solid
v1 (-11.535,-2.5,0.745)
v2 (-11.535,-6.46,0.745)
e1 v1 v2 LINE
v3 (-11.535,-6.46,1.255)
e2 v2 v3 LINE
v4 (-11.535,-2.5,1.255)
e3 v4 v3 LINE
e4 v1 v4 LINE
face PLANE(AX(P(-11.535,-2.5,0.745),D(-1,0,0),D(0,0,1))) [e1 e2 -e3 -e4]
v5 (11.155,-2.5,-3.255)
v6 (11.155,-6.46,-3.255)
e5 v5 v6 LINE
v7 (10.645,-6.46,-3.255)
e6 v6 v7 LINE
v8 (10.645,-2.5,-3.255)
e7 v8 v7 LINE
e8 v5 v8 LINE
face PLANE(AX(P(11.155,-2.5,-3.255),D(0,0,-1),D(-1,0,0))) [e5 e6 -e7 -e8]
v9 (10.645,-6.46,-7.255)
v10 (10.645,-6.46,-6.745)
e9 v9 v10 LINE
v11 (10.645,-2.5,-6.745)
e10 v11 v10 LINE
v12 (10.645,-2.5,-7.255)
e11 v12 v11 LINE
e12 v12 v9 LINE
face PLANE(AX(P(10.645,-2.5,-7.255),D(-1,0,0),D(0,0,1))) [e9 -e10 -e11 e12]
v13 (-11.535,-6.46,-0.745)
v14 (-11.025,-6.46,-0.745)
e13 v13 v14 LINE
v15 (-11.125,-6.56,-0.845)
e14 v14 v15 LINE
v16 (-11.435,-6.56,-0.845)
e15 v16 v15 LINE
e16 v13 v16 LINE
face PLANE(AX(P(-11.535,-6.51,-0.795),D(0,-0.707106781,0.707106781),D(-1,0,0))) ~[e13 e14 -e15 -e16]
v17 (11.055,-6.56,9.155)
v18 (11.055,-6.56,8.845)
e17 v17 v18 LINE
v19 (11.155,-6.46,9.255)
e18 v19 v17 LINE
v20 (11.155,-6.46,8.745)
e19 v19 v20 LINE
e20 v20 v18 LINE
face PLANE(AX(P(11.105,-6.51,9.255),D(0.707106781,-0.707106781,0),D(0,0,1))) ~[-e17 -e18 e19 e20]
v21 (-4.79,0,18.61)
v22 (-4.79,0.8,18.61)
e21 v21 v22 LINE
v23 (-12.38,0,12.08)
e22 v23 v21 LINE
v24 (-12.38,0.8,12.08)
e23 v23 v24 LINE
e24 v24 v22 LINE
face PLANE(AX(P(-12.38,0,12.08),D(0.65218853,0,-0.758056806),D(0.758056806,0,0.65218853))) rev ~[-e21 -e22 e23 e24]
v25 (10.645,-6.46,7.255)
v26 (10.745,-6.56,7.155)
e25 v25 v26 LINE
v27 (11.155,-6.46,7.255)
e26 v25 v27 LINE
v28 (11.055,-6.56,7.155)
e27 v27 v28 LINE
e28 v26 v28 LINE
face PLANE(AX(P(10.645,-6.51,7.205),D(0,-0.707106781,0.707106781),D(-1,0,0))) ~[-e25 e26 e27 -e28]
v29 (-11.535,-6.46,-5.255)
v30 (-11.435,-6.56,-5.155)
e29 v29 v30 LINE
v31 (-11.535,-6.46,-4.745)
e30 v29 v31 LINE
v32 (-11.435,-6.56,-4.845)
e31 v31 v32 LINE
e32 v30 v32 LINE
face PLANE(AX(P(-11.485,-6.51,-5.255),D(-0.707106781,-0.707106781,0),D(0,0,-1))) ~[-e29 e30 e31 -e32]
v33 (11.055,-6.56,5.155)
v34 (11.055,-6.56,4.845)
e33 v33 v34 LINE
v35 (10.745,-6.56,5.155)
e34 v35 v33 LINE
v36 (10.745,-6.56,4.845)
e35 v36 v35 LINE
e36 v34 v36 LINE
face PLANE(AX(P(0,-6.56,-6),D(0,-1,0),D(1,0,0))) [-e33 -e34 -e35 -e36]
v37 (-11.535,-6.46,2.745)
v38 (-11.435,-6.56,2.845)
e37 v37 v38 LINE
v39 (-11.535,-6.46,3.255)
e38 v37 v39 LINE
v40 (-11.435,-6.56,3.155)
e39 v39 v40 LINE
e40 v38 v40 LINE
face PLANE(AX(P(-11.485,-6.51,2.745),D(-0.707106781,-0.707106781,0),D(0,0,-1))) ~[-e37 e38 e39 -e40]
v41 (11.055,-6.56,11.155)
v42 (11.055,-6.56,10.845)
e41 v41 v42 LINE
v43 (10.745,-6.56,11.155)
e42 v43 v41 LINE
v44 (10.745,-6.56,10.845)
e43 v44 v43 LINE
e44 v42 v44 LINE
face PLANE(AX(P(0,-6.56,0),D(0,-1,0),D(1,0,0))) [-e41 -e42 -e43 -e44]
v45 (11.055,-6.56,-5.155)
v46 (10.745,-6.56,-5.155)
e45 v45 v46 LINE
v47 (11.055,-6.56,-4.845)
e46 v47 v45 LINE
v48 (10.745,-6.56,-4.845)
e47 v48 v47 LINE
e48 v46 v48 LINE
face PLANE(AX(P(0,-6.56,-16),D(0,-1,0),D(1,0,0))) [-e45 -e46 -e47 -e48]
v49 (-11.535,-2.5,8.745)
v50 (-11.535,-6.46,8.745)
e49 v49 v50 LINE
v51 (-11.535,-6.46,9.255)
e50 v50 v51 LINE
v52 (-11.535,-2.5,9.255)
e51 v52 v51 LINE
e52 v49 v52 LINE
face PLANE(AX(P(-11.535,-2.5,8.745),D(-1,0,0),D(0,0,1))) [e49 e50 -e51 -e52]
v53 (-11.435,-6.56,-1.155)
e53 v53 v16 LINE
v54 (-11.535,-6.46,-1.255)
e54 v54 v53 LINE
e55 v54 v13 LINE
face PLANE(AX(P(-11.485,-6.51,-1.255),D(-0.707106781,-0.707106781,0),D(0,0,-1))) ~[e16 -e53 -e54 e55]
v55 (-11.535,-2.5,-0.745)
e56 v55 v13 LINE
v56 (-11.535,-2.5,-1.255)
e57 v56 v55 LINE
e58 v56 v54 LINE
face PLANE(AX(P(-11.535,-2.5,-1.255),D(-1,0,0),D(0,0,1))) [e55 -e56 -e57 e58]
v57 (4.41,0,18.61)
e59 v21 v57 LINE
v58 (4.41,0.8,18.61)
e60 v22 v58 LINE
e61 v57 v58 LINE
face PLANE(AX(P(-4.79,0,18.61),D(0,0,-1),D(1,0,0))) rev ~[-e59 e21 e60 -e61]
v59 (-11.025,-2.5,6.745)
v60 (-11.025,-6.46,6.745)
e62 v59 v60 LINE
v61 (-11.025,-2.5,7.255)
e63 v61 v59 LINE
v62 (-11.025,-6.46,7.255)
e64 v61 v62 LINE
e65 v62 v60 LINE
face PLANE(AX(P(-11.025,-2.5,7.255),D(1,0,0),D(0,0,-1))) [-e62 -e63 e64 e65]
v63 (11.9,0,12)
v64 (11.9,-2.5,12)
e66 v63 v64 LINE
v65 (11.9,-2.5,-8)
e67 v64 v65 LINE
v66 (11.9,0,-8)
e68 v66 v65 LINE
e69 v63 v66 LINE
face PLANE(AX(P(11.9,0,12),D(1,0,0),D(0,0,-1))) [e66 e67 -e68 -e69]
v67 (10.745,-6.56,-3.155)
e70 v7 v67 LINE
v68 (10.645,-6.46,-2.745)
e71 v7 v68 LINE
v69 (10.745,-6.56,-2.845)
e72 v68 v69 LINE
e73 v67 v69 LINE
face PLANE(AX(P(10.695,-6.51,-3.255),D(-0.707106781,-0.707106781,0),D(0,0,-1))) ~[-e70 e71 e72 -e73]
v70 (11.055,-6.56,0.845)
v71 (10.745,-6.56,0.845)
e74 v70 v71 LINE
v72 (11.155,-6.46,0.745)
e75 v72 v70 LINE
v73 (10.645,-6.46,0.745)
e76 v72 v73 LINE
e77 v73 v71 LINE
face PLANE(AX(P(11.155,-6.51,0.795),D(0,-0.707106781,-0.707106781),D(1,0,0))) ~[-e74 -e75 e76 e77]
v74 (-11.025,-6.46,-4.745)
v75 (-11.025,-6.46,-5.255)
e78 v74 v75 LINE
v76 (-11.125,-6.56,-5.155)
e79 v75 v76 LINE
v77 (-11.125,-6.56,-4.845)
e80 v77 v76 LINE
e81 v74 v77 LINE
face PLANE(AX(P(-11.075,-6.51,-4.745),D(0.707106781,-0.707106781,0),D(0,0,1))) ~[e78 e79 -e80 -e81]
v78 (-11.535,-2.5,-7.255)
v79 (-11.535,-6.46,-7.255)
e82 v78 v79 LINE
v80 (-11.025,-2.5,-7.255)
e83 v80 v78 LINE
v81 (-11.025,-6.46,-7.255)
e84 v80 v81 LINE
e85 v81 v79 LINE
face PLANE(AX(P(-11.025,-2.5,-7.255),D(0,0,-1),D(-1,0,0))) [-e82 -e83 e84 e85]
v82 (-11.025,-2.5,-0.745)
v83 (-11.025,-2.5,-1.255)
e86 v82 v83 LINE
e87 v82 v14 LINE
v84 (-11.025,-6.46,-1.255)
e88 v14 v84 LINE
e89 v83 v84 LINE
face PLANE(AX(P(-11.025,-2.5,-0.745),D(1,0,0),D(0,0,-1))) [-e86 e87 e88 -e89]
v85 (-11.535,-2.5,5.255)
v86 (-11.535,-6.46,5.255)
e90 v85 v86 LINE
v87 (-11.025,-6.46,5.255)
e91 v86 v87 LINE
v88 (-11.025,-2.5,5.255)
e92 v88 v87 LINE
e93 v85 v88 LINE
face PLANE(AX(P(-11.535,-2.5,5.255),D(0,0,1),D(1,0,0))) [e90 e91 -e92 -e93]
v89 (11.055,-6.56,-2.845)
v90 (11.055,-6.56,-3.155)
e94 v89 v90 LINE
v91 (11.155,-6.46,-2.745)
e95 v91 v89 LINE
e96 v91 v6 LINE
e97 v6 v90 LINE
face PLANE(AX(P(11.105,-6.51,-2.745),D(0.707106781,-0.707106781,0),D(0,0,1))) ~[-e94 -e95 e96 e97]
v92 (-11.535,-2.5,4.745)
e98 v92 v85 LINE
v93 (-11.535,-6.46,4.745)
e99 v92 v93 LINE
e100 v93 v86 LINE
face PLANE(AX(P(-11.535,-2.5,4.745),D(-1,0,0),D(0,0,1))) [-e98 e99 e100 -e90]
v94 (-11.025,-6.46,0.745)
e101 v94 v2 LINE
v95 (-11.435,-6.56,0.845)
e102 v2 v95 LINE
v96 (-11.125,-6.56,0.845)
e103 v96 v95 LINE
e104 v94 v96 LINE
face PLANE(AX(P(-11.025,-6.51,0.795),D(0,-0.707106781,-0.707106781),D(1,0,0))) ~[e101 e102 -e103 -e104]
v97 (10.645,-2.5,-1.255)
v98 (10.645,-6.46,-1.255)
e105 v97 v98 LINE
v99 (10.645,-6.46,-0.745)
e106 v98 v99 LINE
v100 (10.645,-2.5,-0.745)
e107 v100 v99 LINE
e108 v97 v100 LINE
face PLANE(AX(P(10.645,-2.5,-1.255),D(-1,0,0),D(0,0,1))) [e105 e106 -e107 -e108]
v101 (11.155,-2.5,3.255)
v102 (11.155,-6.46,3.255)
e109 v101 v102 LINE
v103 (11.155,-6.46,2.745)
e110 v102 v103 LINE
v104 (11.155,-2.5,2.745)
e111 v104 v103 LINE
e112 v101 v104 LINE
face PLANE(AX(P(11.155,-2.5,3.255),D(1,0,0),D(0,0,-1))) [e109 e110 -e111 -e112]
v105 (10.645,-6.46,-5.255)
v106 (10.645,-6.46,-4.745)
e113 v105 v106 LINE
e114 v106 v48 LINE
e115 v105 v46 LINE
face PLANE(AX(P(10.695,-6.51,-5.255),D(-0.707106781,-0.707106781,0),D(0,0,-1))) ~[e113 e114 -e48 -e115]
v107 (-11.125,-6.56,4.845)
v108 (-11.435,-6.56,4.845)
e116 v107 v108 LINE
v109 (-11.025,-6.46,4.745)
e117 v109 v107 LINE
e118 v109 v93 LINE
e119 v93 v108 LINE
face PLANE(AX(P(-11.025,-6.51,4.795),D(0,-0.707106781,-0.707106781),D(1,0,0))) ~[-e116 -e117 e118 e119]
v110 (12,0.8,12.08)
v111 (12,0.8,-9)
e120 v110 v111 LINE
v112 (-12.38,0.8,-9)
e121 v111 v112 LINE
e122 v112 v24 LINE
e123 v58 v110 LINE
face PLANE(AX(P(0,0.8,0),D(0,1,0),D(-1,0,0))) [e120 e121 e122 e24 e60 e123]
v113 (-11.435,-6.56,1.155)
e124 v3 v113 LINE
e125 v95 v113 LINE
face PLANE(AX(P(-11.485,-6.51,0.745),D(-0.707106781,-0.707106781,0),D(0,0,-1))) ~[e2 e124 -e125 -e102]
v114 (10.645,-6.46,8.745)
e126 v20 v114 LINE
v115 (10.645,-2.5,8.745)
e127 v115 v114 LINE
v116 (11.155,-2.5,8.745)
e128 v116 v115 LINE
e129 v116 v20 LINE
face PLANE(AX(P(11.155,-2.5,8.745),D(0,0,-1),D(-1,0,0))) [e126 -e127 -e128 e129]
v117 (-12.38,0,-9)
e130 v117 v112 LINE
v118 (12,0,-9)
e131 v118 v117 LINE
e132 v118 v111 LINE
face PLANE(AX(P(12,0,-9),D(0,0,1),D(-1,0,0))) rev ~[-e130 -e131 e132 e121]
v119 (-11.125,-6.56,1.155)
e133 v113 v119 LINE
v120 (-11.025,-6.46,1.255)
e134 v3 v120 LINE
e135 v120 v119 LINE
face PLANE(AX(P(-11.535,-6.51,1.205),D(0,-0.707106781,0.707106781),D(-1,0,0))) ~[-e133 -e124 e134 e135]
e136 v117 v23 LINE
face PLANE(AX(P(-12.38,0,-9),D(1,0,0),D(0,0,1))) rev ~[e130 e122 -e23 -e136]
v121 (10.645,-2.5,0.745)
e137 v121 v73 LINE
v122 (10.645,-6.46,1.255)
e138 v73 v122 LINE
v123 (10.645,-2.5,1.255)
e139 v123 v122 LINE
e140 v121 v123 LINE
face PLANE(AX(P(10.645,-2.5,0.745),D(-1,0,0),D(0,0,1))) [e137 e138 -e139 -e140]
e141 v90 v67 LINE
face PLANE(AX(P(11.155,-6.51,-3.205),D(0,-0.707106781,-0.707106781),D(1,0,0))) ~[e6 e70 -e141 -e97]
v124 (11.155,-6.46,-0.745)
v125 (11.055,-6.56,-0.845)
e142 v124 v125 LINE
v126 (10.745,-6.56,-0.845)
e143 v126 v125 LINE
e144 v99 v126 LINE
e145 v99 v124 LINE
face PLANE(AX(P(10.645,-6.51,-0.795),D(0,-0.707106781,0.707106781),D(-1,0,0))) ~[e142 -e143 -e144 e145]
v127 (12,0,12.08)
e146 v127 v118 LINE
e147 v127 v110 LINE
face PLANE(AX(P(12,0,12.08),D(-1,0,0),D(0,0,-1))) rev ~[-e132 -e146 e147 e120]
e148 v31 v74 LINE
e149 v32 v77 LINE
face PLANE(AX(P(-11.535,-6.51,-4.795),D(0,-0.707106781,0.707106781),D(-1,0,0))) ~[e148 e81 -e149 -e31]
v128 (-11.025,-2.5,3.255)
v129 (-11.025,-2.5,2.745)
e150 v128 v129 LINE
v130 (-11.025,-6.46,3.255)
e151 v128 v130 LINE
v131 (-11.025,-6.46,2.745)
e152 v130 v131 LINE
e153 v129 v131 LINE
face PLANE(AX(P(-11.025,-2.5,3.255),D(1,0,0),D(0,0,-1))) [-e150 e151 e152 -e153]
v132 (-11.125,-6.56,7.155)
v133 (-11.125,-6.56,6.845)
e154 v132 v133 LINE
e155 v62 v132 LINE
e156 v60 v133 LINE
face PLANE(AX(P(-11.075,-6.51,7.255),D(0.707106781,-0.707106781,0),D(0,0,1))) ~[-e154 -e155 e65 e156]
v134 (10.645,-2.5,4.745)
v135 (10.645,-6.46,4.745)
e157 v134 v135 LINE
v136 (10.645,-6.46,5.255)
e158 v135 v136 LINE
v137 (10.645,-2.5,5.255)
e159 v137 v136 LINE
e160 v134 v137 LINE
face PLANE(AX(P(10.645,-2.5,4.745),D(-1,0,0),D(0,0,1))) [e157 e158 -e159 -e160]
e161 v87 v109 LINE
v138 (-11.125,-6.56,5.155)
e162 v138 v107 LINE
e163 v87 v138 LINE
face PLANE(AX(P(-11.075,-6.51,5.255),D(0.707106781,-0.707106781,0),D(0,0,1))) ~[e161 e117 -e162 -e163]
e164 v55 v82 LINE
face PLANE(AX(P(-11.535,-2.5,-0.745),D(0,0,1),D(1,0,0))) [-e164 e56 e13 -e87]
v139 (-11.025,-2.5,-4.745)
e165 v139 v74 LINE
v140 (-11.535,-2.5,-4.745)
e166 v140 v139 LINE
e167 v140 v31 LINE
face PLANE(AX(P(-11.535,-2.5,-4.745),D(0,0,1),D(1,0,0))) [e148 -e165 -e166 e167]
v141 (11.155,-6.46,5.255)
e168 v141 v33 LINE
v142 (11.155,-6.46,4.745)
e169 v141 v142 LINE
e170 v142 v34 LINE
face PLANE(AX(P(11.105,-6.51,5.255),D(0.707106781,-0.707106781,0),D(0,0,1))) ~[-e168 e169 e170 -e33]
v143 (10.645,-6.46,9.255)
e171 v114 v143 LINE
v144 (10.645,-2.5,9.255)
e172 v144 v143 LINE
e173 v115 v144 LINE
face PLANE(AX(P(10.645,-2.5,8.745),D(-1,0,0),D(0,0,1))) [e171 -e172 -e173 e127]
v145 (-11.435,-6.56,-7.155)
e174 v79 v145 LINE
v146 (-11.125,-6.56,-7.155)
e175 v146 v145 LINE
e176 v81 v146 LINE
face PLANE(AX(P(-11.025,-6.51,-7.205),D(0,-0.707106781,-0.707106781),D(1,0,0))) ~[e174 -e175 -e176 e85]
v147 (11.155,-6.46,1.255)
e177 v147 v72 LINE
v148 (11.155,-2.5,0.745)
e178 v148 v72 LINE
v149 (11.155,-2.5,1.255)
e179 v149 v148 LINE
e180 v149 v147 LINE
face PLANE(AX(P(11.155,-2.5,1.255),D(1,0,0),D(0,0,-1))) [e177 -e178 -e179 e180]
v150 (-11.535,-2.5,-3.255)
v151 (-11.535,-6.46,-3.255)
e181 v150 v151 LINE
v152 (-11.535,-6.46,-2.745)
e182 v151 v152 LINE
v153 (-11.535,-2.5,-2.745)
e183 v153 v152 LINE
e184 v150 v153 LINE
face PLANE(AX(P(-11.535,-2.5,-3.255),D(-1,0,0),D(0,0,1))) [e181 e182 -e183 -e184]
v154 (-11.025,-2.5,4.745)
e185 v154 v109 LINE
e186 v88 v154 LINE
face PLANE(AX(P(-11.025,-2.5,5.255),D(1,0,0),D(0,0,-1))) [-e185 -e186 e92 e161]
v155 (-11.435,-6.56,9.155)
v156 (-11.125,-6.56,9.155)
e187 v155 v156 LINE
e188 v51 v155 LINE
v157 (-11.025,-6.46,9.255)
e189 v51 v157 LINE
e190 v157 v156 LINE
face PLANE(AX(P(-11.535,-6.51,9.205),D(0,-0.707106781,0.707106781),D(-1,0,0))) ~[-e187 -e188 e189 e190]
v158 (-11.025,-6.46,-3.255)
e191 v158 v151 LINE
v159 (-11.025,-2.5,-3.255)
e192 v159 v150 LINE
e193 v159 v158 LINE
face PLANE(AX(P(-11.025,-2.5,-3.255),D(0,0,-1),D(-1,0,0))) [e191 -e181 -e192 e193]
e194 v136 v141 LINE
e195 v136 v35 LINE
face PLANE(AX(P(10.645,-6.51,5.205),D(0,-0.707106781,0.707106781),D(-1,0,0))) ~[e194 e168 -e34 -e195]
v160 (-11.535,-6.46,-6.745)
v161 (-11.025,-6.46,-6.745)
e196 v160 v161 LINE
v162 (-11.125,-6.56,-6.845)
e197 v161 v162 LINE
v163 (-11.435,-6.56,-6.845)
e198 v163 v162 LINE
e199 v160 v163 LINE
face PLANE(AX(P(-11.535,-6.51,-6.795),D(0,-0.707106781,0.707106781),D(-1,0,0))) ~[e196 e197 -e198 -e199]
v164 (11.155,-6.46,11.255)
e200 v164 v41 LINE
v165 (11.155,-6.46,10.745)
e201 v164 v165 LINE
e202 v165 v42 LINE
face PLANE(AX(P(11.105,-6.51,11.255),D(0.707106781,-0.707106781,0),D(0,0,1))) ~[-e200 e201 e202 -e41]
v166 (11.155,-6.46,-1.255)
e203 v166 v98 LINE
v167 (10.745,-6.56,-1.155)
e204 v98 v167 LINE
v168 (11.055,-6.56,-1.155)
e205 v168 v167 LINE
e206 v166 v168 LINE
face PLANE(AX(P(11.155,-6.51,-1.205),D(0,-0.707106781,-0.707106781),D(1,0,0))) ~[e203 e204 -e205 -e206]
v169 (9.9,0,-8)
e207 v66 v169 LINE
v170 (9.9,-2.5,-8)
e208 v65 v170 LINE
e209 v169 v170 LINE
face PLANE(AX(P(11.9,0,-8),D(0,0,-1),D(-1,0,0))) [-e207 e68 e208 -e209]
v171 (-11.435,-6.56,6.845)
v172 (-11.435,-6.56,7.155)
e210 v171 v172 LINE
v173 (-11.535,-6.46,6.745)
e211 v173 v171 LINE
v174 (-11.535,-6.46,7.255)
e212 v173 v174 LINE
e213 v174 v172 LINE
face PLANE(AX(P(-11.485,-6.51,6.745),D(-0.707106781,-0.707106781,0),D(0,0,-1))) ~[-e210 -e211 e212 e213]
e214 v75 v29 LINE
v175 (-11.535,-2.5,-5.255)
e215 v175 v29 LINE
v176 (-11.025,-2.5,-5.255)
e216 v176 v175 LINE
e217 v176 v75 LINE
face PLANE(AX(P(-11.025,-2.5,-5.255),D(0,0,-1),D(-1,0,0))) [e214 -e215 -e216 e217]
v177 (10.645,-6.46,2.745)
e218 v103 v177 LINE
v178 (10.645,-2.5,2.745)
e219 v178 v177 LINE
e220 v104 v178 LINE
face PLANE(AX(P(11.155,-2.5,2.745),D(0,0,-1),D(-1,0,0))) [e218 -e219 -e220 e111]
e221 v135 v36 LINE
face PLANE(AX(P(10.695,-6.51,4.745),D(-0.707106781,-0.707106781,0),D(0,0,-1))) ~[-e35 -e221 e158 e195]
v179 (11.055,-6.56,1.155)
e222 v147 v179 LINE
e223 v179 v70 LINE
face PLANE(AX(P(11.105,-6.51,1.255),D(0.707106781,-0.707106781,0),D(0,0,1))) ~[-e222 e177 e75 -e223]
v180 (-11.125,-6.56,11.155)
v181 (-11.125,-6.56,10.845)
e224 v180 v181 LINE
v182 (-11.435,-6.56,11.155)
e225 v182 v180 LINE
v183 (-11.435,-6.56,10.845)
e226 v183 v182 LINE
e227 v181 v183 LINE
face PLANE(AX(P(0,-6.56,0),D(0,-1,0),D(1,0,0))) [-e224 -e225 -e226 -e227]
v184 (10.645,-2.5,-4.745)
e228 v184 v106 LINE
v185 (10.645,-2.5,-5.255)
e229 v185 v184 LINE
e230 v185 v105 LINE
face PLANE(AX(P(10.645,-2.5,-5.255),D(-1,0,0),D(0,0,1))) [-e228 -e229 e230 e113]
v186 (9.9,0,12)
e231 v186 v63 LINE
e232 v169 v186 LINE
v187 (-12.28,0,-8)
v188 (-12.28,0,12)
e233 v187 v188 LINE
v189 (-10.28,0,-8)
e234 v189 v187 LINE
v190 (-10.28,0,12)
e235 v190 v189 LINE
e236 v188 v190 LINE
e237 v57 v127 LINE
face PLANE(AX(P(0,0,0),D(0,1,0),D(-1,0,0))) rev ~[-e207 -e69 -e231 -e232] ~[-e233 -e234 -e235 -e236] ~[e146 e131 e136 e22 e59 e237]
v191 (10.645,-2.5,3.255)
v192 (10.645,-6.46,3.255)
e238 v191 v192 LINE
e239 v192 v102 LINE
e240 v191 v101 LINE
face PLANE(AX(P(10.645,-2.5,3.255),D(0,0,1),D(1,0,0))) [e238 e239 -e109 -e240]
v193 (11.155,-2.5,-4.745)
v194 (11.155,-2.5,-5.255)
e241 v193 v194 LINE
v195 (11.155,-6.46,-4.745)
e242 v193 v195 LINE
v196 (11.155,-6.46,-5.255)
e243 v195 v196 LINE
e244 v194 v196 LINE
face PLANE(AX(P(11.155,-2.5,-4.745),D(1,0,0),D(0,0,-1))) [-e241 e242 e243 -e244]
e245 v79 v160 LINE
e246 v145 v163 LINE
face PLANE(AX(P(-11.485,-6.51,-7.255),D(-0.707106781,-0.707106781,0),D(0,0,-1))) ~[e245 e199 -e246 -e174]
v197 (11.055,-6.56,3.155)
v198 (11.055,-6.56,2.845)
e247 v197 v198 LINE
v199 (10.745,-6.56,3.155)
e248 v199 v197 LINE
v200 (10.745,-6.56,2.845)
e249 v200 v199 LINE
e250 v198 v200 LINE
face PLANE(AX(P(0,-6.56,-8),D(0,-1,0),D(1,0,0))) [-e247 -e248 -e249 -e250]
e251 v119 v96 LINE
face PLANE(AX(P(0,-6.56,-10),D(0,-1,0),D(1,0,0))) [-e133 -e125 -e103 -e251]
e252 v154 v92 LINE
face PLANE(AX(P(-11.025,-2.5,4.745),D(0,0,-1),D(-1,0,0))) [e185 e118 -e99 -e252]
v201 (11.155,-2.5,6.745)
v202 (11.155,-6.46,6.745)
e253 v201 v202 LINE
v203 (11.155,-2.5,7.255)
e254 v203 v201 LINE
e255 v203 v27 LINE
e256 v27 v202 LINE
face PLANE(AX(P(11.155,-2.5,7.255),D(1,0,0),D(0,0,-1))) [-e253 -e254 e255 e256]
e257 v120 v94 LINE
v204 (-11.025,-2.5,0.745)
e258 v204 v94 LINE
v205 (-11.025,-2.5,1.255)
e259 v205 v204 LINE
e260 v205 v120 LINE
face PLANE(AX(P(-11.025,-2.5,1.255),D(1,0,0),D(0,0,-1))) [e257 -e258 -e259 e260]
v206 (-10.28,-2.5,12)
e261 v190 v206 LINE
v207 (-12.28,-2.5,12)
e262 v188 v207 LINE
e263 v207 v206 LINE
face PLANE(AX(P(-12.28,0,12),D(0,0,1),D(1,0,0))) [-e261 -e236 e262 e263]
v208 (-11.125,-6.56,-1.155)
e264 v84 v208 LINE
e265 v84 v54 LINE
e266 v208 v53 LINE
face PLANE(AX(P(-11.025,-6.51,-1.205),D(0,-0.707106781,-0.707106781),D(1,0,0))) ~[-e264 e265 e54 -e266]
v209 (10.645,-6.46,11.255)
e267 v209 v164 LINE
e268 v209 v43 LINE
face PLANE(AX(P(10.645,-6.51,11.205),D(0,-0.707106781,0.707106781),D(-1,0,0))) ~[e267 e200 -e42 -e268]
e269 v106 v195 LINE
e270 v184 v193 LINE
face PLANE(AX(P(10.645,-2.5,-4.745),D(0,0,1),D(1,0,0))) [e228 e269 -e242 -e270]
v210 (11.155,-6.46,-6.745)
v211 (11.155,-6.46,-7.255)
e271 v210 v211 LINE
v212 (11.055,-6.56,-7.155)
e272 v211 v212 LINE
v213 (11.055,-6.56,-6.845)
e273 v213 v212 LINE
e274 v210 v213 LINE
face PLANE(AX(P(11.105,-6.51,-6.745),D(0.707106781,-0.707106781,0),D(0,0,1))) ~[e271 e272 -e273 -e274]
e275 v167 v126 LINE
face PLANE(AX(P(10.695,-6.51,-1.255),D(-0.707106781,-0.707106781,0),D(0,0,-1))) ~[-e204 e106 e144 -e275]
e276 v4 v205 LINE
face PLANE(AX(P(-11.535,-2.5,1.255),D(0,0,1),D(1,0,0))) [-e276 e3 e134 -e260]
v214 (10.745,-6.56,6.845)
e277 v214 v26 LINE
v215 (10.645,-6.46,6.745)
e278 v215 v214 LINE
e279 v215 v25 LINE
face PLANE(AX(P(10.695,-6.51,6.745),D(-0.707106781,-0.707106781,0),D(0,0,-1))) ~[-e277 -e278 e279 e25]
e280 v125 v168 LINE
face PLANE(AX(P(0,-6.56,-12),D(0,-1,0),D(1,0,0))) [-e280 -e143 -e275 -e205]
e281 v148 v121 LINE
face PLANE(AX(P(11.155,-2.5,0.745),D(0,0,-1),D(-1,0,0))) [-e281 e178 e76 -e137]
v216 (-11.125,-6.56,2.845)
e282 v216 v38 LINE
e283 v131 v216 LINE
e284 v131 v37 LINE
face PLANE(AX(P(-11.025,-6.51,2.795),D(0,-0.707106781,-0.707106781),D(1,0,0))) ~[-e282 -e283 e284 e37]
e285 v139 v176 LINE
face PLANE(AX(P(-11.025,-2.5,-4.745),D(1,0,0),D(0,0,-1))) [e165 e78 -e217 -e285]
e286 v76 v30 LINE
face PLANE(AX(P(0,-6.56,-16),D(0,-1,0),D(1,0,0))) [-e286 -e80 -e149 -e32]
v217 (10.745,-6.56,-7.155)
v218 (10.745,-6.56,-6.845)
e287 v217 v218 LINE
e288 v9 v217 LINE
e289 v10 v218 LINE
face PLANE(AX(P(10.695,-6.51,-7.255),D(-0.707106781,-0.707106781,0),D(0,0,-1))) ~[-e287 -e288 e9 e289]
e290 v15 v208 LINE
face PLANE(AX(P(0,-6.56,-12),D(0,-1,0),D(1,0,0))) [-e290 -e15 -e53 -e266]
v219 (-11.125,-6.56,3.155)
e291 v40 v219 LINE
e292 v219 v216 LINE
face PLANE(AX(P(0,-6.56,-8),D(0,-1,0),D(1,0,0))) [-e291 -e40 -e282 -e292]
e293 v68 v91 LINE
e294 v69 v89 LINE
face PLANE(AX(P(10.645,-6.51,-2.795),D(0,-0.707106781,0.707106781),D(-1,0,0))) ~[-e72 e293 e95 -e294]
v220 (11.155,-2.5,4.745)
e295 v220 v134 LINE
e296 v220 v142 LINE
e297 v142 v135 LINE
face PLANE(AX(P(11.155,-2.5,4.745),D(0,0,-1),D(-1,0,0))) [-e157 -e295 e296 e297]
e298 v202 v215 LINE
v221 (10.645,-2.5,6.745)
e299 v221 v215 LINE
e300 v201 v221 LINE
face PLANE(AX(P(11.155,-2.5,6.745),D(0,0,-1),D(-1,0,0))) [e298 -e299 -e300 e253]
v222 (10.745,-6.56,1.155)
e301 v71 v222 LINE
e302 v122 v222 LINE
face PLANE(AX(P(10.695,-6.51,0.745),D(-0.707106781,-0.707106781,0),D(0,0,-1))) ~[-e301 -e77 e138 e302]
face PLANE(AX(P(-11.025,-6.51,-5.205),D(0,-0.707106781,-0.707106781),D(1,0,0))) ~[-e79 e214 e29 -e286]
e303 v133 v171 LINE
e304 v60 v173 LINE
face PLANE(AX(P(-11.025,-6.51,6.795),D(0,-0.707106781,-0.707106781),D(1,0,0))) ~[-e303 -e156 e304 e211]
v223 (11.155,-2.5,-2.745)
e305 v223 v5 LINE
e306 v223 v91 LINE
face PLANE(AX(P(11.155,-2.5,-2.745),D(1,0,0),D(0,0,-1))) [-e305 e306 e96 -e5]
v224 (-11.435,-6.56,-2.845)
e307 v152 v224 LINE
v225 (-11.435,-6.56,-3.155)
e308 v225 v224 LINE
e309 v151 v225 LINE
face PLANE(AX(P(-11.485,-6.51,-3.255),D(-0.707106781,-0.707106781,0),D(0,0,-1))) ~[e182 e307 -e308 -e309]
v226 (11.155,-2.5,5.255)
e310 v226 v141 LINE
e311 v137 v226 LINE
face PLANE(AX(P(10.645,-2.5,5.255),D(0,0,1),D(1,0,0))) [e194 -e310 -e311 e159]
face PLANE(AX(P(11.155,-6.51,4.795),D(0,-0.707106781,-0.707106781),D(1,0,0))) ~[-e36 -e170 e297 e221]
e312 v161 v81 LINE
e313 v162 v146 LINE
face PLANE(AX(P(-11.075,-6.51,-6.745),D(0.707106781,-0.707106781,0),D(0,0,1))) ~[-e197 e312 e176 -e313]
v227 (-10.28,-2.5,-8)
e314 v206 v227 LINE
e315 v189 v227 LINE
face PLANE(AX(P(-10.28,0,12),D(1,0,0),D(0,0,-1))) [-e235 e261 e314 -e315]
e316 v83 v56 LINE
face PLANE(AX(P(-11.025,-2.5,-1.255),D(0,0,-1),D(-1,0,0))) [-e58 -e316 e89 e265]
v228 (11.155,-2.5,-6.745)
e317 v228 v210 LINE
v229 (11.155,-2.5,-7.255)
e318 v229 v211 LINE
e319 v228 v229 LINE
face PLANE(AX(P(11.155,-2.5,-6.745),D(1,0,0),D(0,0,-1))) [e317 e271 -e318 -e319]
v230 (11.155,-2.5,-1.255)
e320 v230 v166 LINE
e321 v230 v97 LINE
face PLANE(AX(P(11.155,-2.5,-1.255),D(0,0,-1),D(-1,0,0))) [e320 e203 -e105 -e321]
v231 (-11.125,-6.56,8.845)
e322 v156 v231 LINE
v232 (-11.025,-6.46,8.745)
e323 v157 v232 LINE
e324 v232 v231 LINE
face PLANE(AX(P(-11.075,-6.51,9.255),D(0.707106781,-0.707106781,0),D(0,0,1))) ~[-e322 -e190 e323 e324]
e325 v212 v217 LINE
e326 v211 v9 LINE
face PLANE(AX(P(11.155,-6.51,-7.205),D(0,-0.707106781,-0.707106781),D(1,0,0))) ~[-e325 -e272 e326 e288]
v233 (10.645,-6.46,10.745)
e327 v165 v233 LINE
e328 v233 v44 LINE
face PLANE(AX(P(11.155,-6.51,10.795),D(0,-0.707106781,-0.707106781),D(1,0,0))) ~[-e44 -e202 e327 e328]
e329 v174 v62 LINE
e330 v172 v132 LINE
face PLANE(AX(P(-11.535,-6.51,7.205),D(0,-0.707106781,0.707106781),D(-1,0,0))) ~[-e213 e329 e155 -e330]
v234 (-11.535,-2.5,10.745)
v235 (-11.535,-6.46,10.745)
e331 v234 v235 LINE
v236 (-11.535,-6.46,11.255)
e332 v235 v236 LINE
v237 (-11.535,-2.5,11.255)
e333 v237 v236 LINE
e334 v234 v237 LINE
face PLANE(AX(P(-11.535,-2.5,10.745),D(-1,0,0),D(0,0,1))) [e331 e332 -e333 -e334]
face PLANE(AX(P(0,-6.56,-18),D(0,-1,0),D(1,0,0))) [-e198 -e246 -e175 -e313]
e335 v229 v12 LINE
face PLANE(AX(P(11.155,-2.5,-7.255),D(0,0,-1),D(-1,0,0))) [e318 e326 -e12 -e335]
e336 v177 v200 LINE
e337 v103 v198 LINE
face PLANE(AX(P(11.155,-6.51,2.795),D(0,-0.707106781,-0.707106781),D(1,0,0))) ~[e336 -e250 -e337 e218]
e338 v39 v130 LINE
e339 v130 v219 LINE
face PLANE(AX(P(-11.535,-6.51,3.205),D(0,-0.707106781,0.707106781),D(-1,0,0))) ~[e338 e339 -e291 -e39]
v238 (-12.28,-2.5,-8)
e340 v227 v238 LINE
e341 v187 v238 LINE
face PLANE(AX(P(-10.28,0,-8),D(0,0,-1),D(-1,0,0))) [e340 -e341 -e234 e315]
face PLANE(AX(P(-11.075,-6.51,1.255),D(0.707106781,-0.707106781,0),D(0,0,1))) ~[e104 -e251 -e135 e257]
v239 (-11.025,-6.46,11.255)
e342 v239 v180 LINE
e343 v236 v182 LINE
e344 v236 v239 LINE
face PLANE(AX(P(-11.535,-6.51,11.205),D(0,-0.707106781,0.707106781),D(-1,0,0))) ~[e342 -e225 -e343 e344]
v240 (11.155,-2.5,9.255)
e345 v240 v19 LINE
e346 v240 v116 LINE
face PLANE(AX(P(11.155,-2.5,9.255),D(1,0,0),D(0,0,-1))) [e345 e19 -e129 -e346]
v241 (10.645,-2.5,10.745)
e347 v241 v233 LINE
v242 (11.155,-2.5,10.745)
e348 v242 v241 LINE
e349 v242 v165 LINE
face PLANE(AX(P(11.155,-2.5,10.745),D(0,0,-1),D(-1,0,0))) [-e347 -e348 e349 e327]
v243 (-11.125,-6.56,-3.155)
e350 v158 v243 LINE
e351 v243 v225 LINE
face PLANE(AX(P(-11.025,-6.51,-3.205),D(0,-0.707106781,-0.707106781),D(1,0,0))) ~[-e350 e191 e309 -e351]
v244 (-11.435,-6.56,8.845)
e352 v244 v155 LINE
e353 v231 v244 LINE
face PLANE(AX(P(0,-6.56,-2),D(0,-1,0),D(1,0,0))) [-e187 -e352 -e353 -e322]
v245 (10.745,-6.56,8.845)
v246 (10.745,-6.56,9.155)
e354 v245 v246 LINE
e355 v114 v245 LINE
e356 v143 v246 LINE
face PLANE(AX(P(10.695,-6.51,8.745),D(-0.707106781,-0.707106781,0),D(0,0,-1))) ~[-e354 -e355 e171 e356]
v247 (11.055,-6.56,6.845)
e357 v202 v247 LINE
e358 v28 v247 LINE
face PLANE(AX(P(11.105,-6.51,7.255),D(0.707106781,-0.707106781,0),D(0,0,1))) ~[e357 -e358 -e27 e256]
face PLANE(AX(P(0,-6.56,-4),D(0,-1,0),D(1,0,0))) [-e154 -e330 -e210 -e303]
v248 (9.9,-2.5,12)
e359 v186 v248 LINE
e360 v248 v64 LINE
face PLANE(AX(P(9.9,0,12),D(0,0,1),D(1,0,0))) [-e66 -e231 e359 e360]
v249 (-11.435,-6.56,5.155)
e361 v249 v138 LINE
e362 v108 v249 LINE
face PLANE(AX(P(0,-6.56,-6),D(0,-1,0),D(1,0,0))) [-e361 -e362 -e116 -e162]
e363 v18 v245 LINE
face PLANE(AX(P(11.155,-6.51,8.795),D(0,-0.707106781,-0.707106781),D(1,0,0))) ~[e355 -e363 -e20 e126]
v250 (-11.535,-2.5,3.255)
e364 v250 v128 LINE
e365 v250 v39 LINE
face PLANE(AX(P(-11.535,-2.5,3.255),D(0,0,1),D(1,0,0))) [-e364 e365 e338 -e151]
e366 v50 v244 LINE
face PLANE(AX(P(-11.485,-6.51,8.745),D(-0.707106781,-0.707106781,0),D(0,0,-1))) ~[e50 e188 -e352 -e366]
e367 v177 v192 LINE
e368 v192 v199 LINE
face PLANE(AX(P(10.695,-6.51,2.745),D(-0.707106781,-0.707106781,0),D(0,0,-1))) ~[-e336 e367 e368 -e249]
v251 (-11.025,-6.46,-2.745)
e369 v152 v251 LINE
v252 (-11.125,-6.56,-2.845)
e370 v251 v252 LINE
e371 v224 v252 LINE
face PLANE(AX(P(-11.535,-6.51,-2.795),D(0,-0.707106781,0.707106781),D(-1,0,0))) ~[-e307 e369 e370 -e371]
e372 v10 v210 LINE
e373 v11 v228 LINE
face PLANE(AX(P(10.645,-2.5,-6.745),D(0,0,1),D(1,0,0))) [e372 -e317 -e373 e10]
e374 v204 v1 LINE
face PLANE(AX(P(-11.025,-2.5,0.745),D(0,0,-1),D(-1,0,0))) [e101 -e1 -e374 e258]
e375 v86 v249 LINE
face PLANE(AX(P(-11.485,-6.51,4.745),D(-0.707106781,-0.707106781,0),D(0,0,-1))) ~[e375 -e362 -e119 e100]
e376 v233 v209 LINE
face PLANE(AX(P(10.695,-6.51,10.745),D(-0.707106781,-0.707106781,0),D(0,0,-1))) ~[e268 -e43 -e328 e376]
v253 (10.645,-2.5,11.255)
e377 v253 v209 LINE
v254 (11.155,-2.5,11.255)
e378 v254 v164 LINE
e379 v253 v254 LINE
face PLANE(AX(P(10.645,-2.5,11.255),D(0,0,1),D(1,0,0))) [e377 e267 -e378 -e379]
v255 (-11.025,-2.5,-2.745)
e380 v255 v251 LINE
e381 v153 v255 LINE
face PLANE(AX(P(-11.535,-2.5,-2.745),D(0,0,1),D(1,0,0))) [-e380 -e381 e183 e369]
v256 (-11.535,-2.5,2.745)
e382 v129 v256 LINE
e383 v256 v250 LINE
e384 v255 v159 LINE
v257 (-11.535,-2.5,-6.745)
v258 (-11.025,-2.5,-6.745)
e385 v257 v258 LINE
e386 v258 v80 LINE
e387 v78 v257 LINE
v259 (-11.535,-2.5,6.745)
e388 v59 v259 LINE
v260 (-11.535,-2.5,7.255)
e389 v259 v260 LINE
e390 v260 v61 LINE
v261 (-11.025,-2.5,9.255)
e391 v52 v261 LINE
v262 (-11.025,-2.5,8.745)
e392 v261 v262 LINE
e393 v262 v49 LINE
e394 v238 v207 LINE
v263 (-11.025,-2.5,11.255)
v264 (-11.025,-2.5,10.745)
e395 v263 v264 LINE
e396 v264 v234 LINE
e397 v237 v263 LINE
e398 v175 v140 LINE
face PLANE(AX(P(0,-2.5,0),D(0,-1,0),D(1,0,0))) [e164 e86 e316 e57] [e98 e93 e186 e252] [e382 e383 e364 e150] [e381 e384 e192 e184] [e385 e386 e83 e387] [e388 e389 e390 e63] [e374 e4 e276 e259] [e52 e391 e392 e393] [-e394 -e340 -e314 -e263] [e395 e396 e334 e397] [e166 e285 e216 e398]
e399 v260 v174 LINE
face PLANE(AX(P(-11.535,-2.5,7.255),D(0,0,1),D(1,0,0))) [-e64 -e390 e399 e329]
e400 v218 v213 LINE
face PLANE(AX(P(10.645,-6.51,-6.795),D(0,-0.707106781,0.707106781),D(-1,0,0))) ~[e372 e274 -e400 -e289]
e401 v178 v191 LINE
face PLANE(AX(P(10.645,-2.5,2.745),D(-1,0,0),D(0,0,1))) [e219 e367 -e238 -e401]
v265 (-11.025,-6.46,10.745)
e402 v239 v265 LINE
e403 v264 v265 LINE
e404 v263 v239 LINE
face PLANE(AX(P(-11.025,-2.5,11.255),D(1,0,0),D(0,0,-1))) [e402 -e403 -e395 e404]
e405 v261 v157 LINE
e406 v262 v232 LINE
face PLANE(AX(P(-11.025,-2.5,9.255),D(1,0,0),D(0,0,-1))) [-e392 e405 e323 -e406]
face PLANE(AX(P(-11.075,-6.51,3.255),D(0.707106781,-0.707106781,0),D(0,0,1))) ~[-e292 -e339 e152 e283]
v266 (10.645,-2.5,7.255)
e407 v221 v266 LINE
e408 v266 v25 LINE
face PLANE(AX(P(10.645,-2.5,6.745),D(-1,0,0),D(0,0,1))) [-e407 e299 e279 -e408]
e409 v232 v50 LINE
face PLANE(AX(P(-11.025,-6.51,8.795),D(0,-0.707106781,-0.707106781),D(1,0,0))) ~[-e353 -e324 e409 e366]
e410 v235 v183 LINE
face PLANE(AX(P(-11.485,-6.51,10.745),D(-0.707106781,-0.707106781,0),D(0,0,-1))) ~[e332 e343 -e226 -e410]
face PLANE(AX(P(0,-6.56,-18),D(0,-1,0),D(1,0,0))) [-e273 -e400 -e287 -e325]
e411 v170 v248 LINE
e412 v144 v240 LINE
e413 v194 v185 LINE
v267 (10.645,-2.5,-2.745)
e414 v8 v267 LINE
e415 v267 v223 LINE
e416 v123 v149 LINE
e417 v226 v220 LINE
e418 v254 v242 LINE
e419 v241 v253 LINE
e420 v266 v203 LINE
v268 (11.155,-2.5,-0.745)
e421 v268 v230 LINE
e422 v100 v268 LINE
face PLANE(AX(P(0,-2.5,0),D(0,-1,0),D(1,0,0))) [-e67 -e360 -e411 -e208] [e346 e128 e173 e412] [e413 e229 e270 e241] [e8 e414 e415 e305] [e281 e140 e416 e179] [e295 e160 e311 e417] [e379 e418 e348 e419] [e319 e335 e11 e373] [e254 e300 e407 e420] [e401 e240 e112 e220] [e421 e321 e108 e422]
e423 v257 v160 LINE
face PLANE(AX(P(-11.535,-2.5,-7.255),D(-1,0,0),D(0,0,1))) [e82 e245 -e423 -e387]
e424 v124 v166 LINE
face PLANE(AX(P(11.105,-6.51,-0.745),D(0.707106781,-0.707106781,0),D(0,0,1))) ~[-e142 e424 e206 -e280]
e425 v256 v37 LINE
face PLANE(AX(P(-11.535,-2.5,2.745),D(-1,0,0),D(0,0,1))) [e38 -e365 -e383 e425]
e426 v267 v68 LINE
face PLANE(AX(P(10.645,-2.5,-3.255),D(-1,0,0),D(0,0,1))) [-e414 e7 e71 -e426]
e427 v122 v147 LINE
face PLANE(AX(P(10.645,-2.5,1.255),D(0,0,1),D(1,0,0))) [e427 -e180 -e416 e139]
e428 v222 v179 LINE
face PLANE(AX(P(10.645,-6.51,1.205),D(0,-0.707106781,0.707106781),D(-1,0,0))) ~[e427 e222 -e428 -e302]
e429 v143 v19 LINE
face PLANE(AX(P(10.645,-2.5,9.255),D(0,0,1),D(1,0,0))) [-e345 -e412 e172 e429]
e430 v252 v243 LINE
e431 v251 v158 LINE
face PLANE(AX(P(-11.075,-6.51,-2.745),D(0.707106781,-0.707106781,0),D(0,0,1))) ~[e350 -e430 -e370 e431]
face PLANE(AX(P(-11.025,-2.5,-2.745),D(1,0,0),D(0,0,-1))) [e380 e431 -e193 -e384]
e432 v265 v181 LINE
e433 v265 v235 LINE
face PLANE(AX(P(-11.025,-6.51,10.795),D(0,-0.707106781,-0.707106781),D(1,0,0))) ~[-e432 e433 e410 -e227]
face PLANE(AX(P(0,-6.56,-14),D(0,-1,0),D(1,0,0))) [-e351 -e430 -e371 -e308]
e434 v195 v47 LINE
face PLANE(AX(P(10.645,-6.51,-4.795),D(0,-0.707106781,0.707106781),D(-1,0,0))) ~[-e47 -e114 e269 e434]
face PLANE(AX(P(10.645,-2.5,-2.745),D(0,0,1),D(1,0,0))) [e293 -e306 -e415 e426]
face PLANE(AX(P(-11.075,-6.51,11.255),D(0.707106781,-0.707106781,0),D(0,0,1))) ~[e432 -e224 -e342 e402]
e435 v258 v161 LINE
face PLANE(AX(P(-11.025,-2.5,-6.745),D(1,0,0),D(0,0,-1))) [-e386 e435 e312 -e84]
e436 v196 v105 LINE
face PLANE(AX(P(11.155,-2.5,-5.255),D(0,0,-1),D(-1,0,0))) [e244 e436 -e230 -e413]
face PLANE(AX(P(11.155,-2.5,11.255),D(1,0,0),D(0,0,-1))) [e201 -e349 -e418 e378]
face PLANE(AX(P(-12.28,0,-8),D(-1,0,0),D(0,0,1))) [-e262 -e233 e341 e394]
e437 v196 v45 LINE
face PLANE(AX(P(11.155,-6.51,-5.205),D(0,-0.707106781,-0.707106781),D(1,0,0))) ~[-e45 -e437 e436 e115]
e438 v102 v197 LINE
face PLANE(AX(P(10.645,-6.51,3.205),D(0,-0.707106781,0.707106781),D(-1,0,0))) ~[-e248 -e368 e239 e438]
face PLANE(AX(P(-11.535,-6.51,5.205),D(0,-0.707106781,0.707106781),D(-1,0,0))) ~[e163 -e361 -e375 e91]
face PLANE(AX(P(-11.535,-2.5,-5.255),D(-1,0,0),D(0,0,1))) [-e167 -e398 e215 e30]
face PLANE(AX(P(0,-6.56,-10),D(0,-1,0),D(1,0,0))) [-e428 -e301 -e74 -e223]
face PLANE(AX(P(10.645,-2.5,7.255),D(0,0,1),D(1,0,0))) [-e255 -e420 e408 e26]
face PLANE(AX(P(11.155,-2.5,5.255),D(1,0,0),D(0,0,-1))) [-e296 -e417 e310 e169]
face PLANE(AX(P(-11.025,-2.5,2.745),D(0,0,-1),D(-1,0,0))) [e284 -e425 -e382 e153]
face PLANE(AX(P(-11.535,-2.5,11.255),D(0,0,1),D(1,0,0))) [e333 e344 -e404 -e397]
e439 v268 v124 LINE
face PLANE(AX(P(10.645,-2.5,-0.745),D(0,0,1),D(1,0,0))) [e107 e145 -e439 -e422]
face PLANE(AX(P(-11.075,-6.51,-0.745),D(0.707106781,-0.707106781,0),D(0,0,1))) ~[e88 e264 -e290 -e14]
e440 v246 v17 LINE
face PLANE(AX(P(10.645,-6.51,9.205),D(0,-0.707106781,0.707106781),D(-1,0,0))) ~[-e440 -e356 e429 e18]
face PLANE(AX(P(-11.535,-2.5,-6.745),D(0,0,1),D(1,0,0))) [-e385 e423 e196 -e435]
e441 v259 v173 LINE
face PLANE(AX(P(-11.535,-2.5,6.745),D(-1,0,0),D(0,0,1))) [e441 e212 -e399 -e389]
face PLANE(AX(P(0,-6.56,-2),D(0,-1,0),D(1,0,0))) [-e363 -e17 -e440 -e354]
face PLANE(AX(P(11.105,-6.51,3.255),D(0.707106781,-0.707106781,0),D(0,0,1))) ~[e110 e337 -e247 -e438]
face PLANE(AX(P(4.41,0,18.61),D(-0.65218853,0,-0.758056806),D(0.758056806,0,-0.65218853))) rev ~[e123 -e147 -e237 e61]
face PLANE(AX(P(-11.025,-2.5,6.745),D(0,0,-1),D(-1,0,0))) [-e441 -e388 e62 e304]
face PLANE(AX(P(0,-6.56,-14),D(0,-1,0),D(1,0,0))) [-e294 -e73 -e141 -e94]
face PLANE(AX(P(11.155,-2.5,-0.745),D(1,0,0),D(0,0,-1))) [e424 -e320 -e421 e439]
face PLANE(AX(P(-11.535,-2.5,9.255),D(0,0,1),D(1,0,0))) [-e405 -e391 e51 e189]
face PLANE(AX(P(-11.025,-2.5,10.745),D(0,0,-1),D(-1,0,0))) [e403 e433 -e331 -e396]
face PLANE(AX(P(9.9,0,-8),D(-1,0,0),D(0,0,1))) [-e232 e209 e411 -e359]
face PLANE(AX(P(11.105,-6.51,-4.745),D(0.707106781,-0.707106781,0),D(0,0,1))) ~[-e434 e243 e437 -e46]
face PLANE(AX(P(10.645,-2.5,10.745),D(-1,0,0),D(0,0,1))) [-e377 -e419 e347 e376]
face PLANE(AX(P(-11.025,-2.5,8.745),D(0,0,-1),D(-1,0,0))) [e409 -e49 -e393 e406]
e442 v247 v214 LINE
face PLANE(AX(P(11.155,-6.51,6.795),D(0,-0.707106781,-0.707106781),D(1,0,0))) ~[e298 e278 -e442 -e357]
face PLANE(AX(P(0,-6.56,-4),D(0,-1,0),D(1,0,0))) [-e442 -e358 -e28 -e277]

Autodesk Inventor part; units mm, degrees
ref_plane "YZ Plane" through (0, 0, 0) normal (1, 0, 0) x (0, 1, 0)
ref_plane "XZ Plane" through (0, 0, 0) normal (0, 1, 0) x (-1, 0, 0)
ref_plane "XY Plane" through (0, 0, 0) normal (0, 0, 1) x (1, 0, 0)
sketch "Esquisse1" plane through (0, 0, 0) normal (0, 1, 0) x (-1, 0, 0)
  line L0 (-12, -9) -> (12.38, -9)
  line L1 (12.38, -9) -> (12.38, 12.08)
  line L2 (12.38, 12.08) -> (4.79, 18.61)
  line L3 (4.79, 18.61) -> (-4.41, 18.61)
  line L4 (-4.41, 18.61) -> (-12, 12.08)
  line L5 (-12, 12.08) -> (-12, -9)
  point P0 (0, 0)
  dimension "d0" = 24.38
  dimension "d1" = 27.61
  dimension "d2" = 6.53
  dimension "d3" = 6.53
  dimension "d4" = 7.59
  dimension "d5" = 7.59
  dimension "d6" = 24.38
  dimension "d7" = 27.61
  dimension "d8" = 9
  dimension "d9" = 12
extrude "Extrusion1" add sketch "Esquisse1" along normal blind 0.8
sketch "Esquisse2" plane through (0, 0, 0) normal (0, -1, 0) x (1, 0, 0)
  line L0 (12, -9) -> (-12.38, -9) projected
  line L1 (-12.28, 12) -> (-10.28, 12)
  line L2 (-10.28, 12) -> (-10.28, -8)
  line L3 (-10.28, -8) -> (-12.28, -8)
  line L4 (-12.28, -8) -> (-12.28, 12)
  line L5 (9.9, 12) -> (11.9, 12)
  line L6 (11.9, 12) -> (11.9, -8)
  line L7 (11.9, -8) -> (9.9, -8)
  line L8 (9.9, -8) -> (9.9, 12)
  point P0 (12, 12.08)
  point P1 (-12.38, 12.08)
  point P2 (0, 0)
  dimension "d12" = 2
  dimension "d13" = 2
  dimension "d14" = 20
  dimension "d15" = 20
  dimension "d16" = 1
  dimension "d17" = 1
  dimension "d18" = 0.1
  dimension "d19" = 0.1
extrude "Extrusion2" add sketch "Esquisse2" along normal blind 2.5
sketch "Esquisse3" plane through (0, -2.5, 0) normal (0, -1, 0) x (1, 0, 0)
  line L0 (-10.28, 12) -> (-12.28, 12) projected
  line L1 (-12.28, 12) -> (-12.28, -8) projected
  line L2 (-11.535, 11.255) -> (-11.025, 11.255)
  line L3 (-11.025, 11.255) -> (-11.025, 10.745)
  line L4 (-11.025, 10.745) -> (-11.535, 10.745)
  line L5 (-11.535, 10.745) -> (-11.535, 11.255)
  line L6 (10.645, 11.255) -> (11.155, 11.255)
  line L7 (11.155, 11.255) -> (11.155, 10.745)
  line L8 (11.155, 10.745) -> (10.645, 10.745)
  line L9 (10.645, 10.745) -> (10.645, 11.255)
  line L10 (11.9, 12) -> (9.9, 12) projected
  line L11 (9.9, 12) -> (9.9, -8) projected
  point P0 (0, 0)
  dimension "d22" = 0.51
  dimension "d23" = 0.51
  dimension "d24" = 20
  dimension "d25" = 0.745
  dimension "d26" = 0.745
  dimension "d27" = 2
  dimension "d28" = 0.51
  dimension "d29" = 0.51
  dimension "d30" = 0.745
  dimension "d31" = 0.745
extrude "Extrusion3" add sketch "Esquisse3" along normal blind 4.06
chamfer "Chanfrein1" distance 0.1 angle 45 8 edges at (-11.28, -6.56, 11.255) (-11.535, -6.56, 11) (-11.28, -6.56, 10.745) (-11.025, -6.56, 11) (10.9, -6.56, 11.255) (10.645, -6.56, 11) (10.9, -6.56, 10.745) (11.155, -6.56, 11)
pattern_linear "Réseau rectangulaire1" count 10 spacing 2 along (0, 0, -1) of "Extrusion3", "Chanfrein1"
equation "\"d3\" = d2"
equation "\"d5\" = d4"
equation "\"d6\" = d0"
equation "\"d7\" = d1"
equation "\"d13\" = d12"
equation "\"d15\" = d14"
equation "\"d17\" = d16"
equation "\"d19\" = d18"
equation "\"d23\" = d22"
equation "\"d26\" = -0.5 * d22 + 0.5 * d27"
equation "\"d28\" = d22"
equation "\"d29\" = d23"
equation "\"d30\" = d25"
equation "\"d31\" = d26"
properties part number "xbee" material "Plastique ABS"
